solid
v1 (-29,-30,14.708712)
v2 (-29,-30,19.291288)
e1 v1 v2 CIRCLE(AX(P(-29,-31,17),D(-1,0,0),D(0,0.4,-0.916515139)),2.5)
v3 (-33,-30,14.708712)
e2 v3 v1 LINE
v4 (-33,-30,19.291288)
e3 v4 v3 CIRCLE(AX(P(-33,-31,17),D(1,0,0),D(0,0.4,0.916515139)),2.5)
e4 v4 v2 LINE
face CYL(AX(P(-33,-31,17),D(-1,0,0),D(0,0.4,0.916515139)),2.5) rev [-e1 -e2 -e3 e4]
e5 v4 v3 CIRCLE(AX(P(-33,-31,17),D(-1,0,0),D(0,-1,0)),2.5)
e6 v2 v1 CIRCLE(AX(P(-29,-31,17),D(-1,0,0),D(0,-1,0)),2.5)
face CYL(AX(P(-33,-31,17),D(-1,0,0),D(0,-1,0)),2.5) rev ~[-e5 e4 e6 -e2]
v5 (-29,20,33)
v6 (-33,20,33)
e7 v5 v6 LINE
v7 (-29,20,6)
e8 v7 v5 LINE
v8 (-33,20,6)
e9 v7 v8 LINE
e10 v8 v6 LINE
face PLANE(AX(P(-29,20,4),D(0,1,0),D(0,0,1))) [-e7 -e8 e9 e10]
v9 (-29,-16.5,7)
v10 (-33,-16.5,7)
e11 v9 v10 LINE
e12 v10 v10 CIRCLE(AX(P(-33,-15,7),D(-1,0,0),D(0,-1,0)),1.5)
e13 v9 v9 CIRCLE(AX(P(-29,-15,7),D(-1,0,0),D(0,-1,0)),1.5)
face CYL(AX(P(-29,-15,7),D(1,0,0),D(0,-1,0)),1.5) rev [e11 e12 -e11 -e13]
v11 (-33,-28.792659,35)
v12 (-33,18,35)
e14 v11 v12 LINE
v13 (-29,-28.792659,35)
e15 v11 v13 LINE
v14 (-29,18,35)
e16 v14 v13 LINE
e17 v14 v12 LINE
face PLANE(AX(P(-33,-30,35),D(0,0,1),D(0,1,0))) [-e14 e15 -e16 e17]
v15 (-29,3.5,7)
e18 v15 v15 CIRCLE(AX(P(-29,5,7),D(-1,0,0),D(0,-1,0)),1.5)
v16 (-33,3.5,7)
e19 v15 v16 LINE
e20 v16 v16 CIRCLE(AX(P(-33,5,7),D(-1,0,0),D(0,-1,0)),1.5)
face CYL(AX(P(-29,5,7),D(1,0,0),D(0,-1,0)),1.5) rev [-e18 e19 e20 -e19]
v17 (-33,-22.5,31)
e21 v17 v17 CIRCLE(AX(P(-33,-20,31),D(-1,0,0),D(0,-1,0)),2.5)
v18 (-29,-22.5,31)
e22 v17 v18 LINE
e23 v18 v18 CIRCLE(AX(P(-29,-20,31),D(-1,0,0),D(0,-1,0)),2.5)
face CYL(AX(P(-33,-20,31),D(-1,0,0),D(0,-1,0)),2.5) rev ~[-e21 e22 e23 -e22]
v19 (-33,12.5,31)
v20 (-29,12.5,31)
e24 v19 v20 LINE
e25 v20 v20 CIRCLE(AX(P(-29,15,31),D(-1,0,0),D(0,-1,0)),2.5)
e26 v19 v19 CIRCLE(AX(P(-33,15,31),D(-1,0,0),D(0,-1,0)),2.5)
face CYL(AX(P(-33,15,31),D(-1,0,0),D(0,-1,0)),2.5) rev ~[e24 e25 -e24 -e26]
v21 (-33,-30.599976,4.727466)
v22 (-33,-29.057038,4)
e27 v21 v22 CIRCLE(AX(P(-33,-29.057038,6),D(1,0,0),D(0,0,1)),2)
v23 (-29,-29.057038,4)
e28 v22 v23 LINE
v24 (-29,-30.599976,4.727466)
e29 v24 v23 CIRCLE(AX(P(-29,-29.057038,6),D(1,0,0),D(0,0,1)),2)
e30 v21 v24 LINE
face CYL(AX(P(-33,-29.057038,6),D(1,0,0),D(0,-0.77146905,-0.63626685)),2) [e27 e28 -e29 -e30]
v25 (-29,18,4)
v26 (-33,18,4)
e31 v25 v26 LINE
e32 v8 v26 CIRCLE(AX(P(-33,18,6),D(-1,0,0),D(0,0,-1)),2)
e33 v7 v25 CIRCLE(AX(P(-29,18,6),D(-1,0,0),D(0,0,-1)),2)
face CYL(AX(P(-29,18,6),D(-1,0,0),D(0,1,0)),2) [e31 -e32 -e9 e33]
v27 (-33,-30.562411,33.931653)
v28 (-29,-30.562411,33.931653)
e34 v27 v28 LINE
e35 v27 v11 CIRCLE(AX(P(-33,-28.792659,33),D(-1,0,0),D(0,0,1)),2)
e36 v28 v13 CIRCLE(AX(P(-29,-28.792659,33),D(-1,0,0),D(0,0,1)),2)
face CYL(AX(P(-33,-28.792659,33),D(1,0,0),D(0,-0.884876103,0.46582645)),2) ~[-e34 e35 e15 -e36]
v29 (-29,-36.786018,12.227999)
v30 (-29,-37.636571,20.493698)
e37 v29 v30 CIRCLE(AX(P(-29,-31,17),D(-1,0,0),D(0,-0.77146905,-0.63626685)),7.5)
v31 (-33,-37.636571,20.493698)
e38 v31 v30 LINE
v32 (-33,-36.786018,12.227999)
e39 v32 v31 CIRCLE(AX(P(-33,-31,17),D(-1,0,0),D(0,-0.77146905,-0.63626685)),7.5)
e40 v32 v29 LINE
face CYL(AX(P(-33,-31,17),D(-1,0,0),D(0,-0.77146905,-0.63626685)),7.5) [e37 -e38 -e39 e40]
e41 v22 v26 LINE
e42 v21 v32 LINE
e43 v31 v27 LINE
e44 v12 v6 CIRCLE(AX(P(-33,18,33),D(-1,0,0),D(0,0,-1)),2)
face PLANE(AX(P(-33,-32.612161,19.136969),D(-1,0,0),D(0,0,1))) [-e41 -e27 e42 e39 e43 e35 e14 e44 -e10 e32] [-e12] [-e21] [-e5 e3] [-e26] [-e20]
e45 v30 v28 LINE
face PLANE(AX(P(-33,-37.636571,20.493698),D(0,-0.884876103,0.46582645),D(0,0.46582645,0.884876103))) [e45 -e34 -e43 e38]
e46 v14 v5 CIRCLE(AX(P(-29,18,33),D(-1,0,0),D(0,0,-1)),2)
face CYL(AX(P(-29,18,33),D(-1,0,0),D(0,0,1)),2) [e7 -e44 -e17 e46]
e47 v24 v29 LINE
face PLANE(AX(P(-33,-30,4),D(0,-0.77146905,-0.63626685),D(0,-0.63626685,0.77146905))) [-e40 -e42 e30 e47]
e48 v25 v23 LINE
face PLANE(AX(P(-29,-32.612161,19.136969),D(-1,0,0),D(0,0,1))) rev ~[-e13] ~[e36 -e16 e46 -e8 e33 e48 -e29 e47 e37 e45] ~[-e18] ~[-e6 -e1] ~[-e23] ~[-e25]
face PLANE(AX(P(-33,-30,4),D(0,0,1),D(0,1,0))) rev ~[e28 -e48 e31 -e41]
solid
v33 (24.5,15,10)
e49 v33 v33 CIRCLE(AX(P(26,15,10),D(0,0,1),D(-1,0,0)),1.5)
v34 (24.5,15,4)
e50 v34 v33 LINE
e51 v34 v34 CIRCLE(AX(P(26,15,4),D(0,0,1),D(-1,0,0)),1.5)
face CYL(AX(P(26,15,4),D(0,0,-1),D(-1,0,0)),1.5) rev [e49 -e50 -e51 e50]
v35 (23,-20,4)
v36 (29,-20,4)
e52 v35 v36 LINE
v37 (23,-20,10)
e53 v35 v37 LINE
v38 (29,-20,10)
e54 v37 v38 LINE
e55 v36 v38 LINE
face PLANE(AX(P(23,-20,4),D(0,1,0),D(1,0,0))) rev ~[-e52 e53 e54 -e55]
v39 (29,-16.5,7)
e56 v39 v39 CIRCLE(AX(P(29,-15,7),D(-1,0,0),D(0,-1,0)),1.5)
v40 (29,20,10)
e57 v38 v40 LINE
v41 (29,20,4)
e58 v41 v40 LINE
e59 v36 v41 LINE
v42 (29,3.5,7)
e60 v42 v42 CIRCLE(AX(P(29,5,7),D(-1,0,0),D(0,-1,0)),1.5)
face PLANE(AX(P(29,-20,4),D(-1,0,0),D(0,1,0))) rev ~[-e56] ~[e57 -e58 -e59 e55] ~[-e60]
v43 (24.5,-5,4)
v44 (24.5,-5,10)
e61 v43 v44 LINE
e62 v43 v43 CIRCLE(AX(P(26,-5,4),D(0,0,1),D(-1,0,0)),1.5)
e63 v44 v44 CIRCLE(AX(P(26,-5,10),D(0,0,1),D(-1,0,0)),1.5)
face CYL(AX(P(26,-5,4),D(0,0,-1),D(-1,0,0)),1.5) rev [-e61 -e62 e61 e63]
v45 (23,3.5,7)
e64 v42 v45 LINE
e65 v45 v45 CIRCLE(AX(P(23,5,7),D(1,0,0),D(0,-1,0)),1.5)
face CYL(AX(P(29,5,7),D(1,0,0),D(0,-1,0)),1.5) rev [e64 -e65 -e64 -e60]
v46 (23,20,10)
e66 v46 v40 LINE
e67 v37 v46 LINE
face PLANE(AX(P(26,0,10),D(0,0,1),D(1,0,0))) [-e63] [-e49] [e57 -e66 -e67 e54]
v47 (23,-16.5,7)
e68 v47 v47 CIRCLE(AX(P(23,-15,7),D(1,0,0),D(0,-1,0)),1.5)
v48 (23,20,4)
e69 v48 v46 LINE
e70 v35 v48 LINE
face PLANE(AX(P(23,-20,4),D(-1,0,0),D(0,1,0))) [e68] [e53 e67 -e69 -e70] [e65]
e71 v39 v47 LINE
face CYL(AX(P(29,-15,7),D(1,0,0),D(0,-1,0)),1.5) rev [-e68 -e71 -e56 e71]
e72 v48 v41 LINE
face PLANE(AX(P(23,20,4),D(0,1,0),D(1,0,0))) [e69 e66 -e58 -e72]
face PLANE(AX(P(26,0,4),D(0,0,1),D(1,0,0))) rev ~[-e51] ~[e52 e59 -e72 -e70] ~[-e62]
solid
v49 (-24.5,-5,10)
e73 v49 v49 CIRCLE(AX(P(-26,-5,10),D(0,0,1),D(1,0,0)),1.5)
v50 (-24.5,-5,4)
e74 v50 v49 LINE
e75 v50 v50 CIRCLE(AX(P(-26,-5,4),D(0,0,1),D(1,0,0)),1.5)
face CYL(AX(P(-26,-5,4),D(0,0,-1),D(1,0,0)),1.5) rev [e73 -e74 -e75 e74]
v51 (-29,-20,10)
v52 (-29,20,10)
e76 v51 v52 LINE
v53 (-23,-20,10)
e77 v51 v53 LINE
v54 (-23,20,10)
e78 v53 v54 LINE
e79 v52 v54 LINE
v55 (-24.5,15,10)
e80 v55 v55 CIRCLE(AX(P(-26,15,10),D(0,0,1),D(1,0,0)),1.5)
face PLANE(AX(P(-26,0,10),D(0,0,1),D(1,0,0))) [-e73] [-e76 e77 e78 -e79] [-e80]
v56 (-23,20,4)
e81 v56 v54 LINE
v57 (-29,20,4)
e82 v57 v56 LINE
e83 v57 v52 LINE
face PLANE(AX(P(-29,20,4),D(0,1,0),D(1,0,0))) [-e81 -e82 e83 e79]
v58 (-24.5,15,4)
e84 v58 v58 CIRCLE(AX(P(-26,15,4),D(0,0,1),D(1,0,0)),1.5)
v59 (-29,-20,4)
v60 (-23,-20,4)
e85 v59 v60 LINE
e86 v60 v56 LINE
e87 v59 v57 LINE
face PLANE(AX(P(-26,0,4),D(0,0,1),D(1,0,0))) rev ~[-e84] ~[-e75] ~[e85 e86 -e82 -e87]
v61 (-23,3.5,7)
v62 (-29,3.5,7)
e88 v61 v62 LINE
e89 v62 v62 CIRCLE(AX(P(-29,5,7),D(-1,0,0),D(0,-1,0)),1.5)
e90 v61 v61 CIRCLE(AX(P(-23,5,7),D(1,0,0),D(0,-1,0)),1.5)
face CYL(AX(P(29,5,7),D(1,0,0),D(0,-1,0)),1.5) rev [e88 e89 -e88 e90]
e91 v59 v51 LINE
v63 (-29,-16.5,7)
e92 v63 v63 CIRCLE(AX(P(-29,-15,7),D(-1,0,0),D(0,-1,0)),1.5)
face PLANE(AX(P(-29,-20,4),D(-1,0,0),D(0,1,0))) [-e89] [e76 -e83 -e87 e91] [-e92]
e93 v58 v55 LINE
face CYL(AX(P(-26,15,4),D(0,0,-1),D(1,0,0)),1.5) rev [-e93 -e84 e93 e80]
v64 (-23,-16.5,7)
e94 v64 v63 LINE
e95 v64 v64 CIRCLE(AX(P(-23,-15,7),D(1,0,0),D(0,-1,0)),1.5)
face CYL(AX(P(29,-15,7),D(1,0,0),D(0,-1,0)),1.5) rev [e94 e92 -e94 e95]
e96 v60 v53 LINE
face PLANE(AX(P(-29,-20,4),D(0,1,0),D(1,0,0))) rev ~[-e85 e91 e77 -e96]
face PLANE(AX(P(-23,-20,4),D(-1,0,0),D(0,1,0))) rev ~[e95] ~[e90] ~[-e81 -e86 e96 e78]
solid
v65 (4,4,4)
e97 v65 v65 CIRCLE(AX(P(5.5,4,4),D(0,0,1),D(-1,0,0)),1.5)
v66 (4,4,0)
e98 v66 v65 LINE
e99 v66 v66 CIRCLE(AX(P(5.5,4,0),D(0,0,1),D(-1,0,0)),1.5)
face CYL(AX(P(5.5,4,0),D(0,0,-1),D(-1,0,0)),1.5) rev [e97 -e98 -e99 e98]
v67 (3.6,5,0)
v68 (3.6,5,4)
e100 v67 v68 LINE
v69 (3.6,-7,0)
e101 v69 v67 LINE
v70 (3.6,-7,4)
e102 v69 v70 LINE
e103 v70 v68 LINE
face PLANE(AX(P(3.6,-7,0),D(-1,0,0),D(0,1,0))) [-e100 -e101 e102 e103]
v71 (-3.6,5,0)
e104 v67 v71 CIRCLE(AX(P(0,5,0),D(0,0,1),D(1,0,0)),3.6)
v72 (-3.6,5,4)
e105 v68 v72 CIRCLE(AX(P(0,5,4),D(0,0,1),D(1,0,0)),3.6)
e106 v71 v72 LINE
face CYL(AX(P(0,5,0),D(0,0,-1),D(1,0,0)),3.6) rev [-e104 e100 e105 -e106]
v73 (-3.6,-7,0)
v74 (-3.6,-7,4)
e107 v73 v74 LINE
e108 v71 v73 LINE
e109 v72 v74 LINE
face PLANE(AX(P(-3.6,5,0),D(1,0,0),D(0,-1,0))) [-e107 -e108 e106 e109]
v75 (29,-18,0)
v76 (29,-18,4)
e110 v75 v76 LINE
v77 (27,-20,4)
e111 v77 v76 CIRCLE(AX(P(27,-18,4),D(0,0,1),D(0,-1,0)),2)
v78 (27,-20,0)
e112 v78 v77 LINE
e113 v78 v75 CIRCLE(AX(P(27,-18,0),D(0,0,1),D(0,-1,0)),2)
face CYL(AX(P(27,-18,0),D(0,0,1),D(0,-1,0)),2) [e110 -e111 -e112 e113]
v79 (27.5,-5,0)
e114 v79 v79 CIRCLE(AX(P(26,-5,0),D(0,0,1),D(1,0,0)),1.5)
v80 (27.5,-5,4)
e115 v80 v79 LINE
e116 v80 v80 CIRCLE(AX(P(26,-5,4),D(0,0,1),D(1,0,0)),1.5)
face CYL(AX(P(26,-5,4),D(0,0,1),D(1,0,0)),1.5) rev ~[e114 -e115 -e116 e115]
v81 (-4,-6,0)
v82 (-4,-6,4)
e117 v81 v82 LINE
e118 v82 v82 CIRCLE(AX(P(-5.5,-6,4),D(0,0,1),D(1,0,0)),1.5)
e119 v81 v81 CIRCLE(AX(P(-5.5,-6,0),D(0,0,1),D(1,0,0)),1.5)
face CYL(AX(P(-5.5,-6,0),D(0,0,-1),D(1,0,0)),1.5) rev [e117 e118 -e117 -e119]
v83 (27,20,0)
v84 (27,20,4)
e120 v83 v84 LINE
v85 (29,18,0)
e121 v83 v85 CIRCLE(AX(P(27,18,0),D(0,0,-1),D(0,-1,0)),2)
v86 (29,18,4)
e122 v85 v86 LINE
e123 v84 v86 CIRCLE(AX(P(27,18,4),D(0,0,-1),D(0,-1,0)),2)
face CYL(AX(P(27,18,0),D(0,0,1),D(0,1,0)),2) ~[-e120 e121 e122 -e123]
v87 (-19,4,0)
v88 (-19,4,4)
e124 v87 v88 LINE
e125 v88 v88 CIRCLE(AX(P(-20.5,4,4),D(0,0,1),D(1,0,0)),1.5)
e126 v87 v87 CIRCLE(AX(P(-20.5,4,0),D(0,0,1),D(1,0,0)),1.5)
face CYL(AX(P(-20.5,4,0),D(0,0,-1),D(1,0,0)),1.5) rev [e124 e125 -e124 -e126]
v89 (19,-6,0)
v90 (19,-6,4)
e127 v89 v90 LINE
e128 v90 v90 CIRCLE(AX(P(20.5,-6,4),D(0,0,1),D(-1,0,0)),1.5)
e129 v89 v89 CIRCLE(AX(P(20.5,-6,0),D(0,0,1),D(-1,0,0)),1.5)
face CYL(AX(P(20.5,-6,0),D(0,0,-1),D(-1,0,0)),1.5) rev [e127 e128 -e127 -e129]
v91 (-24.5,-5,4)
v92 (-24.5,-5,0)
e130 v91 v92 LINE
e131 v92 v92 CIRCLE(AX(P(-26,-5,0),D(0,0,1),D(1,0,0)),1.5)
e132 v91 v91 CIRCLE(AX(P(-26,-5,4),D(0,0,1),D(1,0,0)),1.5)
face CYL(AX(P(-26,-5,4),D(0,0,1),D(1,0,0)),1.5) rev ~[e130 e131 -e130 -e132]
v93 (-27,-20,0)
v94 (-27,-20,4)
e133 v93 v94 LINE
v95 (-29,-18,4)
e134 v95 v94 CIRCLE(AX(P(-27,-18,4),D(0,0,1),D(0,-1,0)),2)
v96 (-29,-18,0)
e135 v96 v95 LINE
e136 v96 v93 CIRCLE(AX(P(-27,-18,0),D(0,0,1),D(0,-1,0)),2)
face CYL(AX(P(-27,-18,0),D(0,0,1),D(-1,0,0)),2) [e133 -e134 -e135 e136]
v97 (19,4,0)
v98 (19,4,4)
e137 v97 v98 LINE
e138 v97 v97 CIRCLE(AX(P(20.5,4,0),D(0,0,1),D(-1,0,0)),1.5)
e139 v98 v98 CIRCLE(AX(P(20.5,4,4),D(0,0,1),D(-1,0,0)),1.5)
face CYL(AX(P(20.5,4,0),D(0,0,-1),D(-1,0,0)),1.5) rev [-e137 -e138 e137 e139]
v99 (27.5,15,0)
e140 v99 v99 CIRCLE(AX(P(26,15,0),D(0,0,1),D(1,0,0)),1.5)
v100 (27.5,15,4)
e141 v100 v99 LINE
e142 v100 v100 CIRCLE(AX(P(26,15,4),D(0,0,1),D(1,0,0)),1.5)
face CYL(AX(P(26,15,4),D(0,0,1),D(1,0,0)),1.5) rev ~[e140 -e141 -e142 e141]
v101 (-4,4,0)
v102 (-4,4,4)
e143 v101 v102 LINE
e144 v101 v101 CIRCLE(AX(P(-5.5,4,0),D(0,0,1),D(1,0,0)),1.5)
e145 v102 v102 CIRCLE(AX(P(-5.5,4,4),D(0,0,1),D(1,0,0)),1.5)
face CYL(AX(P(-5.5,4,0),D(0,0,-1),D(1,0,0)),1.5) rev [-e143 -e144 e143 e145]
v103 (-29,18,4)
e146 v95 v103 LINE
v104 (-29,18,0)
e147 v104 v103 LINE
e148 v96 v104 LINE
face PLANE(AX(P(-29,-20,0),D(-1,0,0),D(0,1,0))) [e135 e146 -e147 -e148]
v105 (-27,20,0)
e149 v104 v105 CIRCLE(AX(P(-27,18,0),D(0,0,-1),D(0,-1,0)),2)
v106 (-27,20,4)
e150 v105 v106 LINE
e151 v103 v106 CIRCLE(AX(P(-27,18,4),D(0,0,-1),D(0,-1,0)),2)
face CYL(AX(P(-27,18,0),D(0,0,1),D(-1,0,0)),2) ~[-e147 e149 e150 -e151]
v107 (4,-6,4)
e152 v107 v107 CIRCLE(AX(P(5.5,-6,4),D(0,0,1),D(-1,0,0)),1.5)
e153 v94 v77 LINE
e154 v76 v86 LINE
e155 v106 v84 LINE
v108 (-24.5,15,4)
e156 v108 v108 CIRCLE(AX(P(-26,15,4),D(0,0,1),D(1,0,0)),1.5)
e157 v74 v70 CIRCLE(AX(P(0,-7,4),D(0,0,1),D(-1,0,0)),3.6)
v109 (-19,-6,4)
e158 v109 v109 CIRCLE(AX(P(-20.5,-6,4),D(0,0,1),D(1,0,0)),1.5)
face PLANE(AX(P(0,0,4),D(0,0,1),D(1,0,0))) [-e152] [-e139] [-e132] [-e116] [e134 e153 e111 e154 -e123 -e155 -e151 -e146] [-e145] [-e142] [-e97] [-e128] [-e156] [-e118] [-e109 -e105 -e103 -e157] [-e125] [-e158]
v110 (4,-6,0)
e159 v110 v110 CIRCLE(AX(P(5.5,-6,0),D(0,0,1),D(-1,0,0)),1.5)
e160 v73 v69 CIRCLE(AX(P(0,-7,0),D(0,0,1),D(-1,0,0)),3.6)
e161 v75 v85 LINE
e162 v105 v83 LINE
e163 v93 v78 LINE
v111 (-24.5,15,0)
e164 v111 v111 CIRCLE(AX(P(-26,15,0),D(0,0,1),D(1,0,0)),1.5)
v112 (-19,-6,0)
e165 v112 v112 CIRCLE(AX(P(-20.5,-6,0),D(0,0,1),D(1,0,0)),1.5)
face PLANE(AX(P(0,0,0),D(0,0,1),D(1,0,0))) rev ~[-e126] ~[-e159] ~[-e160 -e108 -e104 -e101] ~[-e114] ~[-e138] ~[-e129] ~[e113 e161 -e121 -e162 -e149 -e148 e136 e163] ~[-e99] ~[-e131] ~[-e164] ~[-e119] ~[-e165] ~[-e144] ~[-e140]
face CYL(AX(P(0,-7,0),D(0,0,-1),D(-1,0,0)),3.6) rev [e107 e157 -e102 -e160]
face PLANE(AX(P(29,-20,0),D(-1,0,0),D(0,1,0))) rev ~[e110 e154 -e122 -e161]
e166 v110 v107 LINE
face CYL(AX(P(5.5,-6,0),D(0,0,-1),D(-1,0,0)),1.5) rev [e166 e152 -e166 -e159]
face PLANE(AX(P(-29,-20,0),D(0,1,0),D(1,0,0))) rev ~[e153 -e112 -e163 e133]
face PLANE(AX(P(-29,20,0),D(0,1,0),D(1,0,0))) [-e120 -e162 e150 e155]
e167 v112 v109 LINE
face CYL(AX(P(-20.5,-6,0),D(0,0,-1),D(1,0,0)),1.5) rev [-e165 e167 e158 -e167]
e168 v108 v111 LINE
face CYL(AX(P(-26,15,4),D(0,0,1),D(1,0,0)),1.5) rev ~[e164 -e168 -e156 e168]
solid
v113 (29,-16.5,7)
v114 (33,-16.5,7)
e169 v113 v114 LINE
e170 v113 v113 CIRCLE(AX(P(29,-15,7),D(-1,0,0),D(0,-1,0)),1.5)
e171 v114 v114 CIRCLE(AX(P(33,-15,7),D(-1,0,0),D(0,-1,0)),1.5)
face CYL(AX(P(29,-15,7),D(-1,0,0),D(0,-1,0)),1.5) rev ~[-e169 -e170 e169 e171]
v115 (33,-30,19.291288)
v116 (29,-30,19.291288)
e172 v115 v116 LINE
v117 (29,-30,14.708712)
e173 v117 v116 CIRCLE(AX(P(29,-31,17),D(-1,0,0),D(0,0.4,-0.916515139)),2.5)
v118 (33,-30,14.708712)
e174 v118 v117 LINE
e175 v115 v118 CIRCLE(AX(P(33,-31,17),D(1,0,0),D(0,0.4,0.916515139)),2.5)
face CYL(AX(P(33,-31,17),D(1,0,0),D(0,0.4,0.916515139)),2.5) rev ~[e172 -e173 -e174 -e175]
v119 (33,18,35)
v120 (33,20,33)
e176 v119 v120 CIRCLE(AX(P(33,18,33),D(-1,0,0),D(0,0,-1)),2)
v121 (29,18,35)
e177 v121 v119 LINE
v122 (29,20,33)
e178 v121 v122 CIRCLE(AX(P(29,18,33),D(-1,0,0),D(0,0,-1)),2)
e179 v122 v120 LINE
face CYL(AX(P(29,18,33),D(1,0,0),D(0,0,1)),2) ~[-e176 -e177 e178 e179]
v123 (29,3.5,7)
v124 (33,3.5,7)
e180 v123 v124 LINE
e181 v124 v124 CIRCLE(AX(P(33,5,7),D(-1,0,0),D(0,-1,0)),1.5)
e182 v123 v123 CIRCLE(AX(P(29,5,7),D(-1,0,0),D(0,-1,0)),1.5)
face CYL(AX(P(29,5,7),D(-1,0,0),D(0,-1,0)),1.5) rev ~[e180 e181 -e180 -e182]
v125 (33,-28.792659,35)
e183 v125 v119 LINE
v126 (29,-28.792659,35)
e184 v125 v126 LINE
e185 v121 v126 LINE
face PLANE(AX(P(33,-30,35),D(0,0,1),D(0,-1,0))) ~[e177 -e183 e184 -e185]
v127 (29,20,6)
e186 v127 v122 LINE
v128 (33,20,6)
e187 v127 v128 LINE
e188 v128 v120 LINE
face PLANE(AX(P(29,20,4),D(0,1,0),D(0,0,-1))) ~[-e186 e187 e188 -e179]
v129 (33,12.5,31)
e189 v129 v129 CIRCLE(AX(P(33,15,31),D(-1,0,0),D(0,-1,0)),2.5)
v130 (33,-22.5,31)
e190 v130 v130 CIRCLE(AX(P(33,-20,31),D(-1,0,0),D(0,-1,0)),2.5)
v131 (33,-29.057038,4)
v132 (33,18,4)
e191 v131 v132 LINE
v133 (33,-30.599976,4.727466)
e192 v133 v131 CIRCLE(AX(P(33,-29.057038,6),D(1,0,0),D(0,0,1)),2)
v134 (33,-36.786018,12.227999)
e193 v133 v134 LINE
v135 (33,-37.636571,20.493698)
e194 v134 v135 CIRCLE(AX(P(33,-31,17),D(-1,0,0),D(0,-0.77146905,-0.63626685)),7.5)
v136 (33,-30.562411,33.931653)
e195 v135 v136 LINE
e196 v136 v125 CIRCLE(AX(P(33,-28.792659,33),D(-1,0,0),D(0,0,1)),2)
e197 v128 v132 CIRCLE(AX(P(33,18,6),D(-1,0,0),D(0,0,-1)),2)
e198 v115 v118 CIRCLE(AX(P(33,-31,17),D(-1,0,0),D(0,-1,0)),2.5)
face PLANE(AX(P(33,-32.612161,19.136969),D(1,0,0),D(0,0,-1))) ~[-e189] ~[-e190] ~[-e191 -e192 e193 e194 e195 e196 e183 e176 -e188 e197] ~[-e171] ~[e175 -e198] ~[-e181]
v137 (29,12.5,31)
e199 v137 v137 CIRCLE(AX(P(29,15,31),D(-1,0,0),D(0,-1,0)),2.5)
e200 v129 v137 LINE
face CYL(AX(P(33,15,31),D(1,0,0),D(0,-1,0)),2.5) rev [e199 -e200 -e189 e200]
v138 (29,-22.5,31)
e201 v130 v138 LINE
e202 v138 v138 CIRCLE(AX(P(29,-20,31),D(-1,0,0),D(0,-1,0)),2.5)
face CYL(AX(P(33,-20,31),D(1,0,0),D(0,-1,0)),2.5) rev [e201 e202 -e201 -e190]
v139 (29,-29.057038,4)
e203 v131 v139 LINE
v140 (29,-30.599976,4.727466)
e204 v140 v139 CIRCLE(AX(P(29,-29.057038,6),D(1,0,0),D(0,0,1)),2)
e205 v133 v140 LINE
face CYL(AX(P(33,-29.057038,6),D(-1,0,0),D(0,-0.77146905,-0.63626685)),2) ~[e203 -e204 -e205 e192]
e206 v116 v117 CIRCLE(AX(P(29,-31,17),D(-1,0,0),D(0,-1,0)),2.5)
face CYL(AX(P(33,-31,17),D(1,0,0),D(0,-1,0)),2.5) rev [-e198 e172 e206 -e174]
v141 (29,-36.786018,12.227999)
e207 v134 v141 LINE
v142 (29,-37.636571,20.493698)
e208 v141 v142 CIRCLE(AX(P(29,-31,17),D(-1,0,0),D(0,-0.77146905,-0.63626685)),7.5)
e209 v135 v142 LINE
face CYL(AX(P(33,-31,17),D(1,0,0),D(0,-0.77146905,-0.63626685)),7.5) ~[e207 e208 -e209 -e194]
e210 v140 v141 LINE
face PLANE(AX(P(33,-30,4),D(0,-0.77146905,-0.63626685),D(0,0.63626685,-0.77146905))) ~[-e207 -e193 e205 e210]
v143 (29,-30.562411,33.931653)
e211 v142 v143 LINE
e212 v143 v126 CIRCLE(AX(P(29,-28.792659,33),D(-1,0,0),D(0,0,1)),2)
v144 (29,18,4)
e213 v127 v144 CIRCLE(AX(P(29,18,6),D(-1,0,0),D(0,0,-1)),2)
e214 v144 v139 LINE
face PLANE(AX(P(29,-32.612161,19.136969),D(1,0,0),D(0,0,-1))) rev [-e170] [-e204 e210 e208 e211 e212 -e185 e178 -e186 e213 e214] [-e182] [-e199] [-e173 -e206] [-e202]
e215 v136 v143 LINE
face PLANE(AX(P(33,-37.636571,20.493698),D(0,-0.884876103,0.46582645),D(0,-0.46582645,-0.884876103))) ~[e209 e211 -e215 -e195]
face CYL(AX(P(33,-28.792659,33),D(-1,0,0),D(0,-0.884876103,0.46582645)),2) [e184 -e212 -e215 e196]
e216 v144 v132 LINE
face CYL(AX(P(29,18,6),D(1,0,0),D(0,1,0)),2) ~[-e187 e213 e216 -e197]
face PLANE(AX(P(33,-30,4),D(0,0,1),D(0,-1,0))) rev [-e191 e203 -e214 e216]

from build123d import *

# Parameters (mm, degrees)
SKETCH_1_W          = 58
SKETCH_1_H          = 40
SKETCH_1_R          = 1.5
EXTRUDE_1_DEPTH     = 4
SKETCH_2_R          = 1.5
CUT_EXTRUDE_1_DEPTH = 4
SKETCH_3_W          = 6
SKETCH_3_H          = 40
SKETCH_3_R          = 1.5
EXTRUDE_2_DEPTH     = 6
EXTRUDE_2_2_DEPTH   = 6
CUT_EXTRUDE_START   = -58
SKETCH_4_R          = 1.5
CUT_EXTRUDE_2_DEPTH = 58
SKETCH_5_W          = 31
SKETCH_5_H          = 40
SKETCH_5_R          = 1.5
EXTRUDE_3_DEPTH     = 4
SKETCH_6_W          = 31
SKETCH_6_H          = 10
EXTRUDE_4_DEPTH     = 4
SKETCH_7_R          = 2.5
CUT_EXTRUDE_3_DEPTH = 4
EXTRUDE_5_DEPTH     = 4
CUT_EXTRUDE_4_DEPTH = 4
FILLET_1_R          = 2
FILLET_2_R          = 2
SKETCH_11_R         = 2.5
CUT_EXTRUDE_5_DEPTH = 4


with BuildPart() as part:
    # 草图1 → 凸台-拉伸1 (new body)
    with BuildSketch(Plane.XY):
        Rectangle(SKETCH_1_W, SKETCH_1_H)
        with Locations((-5.5, 4)):
            Circle(SKETCH_1_R, mode=Mode.SUBTRACT)
        with Locations((-5.5, -6)):
            Circle(SKETCH_1_R, mode=Mode.SUBTRACT)
        with Locations((-20.5, -6)):
            Circle(SKETCH_1_R, mode=Mode.SUBTRACT)
        with Locations((-20.5, 4)):
            Circle(SKETCH_1_R, mode=Mode.SUBTRACT)
        with Locations(Location((20.5, 4, 0), (0, 0, 180))):
            Circle(SKETCH_1_R, mode=Mode.SUBTRACT)
        with Locations(Location((20.5, -6, 0), (0, 0, 180))):
            Circle(SKETCH_1_R, mode=Mode.SUBTRACT)
        with Locations(Location((5.5, -6, 0), (0, 0, 180))):
            Circle(SKETCH_1_R, mode=Mode.SUBTRACT)
        with Locations(Location((5.5, 4, 0), (0, 0, 180))):
            Circle(SKETCH_1_R, mode=Mode.SUBTRACT)
    extrude(amount=EXTRUDE_1_DEPTH)

    # 草图2 → 切除-拉伸1 (cut)
    with BuildSketch(Plane.XY.offset(4)):
        with Locations((26, -5)):
            Circle(SKETCH_2_R)
        with Locations((26, 15)):
            Circle(SKETCH_2_R)
        with Locations((-26, 15)):
            Circle(SKETCH_2_R)
        with Locations((-26, -5)):
            Circle(SKETCH_2_R)
    extrude(amount=-CUT_EXTRUDE_1_DEPTH, mode=Mode.SUBTRACT)

    # 草图9 → 切除-拉伸4 (cut)
    with BuildSketch(Plane(origin=(0, 0, 0), x_dir=(-1, 0, 0), z_dir=(0, 0, -1))):
        with BuildLine():
            Line((-3.6, -7), (-3.6, 5))
            ThreePointArc((-3.6, 5), (0, 8.6), (3.6, 5))
            Line((3.6, 5), (3.6, -7))
            ThreePointArc((3.6, -7), (0, -10.6), (-3.6, -7))
        make_face()
    extrude(amount=-CUT_EXTRUDE_4_DEPTH, mode=Mode.SUBTRACT)

    # 圆角1
    fillet_1_edges = [part.edges().sort_by_distance(p)[0] for p in [
        (29, -20, 2),
        (-29, -20, 2),
        (-29, 20, 2),
        (29, 20, 2),
    ]]
    fillet(fillet_1_edges, radius=FILLET_1_R)


with BuildPart() as body_2:
    # 草图3 → 凸台-拉伸2 (new body)
    with BuildSketch(Plane.XY.offset(4)):
        with Locations((-26, 0)):
            Rectangle(SKETCH_3_W, SKETCH_3_H)
        with Locations((-26, -5)):
            Circle(SKETCH_3_R, mode=Mode.SUBTRACT)
        with Locations((-26, 15)):
            Circle(SKETCH_3_R, mode=Mode.SUBTRACT)
    extrude(amount=EXTRUDE_2_DEPTH)


with BuildPart() as body_3:
    # 草图3 → Extrude 2 2 (new body)
    with BuildSketch(Plane.XY.offset(4)):
        with Locations((26, 0)):
            Rectangle(SKETCH_3_W, SKETCH_3_H)
        with Locations(Location((26, 15, 0), (0, 0, 180))):
            Circle(SKETCH_3_R, mode=Mode.SUBTRACT)
        with Locations(Location((26, -5, 0), (0, 0, 180))):
            Circle(SKETCH_3_R, mode=Mode.SUBTRACT)
    extrude(amount=EXTRUDE_2_2_DEPTH)


with BuildPart() as cut_extrude_2_tool:
    # 草图4 → 切除-拉伸2 (new body)
    with BuildSketch(Plane.ZY.offset(29).offset(CUT_EXTRUDE_START)):
        with Locations(Location((7, -15, 0), (0, 0, 270))):
            Circle(SKETCH_4_R)
        with Locations(Location((7, 5, 0), (0, 0, 270))):
            Circle(SKETCH_4_R)
    extrude(amount=CUT_EXTRUDE_2_DEPTH)


with BuildPart() as body_2_1:
    add(body_2.part)

    # 切除-拉伸2: cut by cut_extrude_2_tool
    add(cut_extrude_2_tool.part, mode=Mode.SUBTRACT)


with BuildPart() as body_3_1:
    add(body_3.part)

    # 切除-拉伸2: cut by cut_extrude_2_tool
    add(cut_extrude_2_tool.part, mode=Mode.SUBTRACT)


with BuildPart() as body_4:
    # 草图5 → 凸台-拉伸3 (new body)
    with BuildSketch(Plane.ZY.offset(29)):
        with Locations((19.5, 0)):
            Rectangle(SKETCH_5_W, SKETCH_5_H)
        with Locations(Location((7, 5, 0), (0, 0, 270))):
            Circle(SKETCH_5_R, mode=Mode.SUBTRACT)
        with Locations(Location((7, -15, 0), (0, 0, 270))):
            Circle(SKETCH_5_R, mode=Mode.SUBTRACT)
    extrude(amount=EXTRUDE_3_DEPTH)

    # 草图6 → 凸台-拉伸4 (add)
    with BuildSketch(Plane.ZY.offset(33)):
        with Locations((19.5, -25)):
            Rectangle(SKETCH_6_W, SKETCH_6_H)
    extrude(amount=-EXTRUDE_4_DEPTH)

    # 草图7 → 切除-拉伸3 (cut)
    with BuildSketch(Plane.ZY.offset(33)):
        with Locations(Location((31, 15, 0), (0, 0, 270))):
            Circle(SKETCH_7_R)
        with Locations(Location((31, -20, 0), (0, 0, 270))):
            Circle(SKETCH_7_R)
    extrude(amount=-CUT_EXTRUDE_3_DEPTH, mode=Mode.SUBTRACT)

    # 草图8 → 凸台-拉伸5 (add)
    with BuildSketch(Plane.ZY.offset(33)):
        with BuildLine():
            Line((20.493698376, -37.636570775), (35, -30))
            Line((35, -30), (19.291287847, -30))
            ThreePointArc((19.291287847, -30), (17, -33.5), (14.708712153, -30))
            Line((14.708712153, -30), (4, -30))
            Line((4, -30), (12.227998625, -36.786017877))
            ThreePointArc((12.227998625, -36.786017877), (16.232292571, -38.460604889), (20.493698376, -37.636570775))
        make_face()
    extrude(amount=-EXTRUDE_5_DEPTH)

    # 圆角2
    fillet_2_edges = [body_4.edges().sort_by_distance(p)[0] for p in [
        (-31, -30, 4),
        (-31, -30, 35),
        (-31, 20, 4),
        (-31, 20, 35),
    ]]
    fillet(fillet_2_edges, radius=FILLET_2_R)

    # 草图11 → 切除-拉伸5 (cut)
    with BuildSketch(Plane.ZY.offset(33)):
        with Locations(Location((17, -31, 0), (0, 0, 270))):
            Circle(SKETCH_11_R)
    extrude(amount=-CUT_EXTRUDE_5_DEPTH, mode=Mode.SUBTRACT)


with BuildPart() as body_5:
    # 镜向1: mirrored copy
    add(body_4.part.mirror(Plane(origin=(0, 0, 0), x_dir=(0, 0, 1), z_dir=(1, 0, 0))))


solid = Compound([part.part, body_2_1.part, body_3_1.part, body_4.part, body_5.part])
